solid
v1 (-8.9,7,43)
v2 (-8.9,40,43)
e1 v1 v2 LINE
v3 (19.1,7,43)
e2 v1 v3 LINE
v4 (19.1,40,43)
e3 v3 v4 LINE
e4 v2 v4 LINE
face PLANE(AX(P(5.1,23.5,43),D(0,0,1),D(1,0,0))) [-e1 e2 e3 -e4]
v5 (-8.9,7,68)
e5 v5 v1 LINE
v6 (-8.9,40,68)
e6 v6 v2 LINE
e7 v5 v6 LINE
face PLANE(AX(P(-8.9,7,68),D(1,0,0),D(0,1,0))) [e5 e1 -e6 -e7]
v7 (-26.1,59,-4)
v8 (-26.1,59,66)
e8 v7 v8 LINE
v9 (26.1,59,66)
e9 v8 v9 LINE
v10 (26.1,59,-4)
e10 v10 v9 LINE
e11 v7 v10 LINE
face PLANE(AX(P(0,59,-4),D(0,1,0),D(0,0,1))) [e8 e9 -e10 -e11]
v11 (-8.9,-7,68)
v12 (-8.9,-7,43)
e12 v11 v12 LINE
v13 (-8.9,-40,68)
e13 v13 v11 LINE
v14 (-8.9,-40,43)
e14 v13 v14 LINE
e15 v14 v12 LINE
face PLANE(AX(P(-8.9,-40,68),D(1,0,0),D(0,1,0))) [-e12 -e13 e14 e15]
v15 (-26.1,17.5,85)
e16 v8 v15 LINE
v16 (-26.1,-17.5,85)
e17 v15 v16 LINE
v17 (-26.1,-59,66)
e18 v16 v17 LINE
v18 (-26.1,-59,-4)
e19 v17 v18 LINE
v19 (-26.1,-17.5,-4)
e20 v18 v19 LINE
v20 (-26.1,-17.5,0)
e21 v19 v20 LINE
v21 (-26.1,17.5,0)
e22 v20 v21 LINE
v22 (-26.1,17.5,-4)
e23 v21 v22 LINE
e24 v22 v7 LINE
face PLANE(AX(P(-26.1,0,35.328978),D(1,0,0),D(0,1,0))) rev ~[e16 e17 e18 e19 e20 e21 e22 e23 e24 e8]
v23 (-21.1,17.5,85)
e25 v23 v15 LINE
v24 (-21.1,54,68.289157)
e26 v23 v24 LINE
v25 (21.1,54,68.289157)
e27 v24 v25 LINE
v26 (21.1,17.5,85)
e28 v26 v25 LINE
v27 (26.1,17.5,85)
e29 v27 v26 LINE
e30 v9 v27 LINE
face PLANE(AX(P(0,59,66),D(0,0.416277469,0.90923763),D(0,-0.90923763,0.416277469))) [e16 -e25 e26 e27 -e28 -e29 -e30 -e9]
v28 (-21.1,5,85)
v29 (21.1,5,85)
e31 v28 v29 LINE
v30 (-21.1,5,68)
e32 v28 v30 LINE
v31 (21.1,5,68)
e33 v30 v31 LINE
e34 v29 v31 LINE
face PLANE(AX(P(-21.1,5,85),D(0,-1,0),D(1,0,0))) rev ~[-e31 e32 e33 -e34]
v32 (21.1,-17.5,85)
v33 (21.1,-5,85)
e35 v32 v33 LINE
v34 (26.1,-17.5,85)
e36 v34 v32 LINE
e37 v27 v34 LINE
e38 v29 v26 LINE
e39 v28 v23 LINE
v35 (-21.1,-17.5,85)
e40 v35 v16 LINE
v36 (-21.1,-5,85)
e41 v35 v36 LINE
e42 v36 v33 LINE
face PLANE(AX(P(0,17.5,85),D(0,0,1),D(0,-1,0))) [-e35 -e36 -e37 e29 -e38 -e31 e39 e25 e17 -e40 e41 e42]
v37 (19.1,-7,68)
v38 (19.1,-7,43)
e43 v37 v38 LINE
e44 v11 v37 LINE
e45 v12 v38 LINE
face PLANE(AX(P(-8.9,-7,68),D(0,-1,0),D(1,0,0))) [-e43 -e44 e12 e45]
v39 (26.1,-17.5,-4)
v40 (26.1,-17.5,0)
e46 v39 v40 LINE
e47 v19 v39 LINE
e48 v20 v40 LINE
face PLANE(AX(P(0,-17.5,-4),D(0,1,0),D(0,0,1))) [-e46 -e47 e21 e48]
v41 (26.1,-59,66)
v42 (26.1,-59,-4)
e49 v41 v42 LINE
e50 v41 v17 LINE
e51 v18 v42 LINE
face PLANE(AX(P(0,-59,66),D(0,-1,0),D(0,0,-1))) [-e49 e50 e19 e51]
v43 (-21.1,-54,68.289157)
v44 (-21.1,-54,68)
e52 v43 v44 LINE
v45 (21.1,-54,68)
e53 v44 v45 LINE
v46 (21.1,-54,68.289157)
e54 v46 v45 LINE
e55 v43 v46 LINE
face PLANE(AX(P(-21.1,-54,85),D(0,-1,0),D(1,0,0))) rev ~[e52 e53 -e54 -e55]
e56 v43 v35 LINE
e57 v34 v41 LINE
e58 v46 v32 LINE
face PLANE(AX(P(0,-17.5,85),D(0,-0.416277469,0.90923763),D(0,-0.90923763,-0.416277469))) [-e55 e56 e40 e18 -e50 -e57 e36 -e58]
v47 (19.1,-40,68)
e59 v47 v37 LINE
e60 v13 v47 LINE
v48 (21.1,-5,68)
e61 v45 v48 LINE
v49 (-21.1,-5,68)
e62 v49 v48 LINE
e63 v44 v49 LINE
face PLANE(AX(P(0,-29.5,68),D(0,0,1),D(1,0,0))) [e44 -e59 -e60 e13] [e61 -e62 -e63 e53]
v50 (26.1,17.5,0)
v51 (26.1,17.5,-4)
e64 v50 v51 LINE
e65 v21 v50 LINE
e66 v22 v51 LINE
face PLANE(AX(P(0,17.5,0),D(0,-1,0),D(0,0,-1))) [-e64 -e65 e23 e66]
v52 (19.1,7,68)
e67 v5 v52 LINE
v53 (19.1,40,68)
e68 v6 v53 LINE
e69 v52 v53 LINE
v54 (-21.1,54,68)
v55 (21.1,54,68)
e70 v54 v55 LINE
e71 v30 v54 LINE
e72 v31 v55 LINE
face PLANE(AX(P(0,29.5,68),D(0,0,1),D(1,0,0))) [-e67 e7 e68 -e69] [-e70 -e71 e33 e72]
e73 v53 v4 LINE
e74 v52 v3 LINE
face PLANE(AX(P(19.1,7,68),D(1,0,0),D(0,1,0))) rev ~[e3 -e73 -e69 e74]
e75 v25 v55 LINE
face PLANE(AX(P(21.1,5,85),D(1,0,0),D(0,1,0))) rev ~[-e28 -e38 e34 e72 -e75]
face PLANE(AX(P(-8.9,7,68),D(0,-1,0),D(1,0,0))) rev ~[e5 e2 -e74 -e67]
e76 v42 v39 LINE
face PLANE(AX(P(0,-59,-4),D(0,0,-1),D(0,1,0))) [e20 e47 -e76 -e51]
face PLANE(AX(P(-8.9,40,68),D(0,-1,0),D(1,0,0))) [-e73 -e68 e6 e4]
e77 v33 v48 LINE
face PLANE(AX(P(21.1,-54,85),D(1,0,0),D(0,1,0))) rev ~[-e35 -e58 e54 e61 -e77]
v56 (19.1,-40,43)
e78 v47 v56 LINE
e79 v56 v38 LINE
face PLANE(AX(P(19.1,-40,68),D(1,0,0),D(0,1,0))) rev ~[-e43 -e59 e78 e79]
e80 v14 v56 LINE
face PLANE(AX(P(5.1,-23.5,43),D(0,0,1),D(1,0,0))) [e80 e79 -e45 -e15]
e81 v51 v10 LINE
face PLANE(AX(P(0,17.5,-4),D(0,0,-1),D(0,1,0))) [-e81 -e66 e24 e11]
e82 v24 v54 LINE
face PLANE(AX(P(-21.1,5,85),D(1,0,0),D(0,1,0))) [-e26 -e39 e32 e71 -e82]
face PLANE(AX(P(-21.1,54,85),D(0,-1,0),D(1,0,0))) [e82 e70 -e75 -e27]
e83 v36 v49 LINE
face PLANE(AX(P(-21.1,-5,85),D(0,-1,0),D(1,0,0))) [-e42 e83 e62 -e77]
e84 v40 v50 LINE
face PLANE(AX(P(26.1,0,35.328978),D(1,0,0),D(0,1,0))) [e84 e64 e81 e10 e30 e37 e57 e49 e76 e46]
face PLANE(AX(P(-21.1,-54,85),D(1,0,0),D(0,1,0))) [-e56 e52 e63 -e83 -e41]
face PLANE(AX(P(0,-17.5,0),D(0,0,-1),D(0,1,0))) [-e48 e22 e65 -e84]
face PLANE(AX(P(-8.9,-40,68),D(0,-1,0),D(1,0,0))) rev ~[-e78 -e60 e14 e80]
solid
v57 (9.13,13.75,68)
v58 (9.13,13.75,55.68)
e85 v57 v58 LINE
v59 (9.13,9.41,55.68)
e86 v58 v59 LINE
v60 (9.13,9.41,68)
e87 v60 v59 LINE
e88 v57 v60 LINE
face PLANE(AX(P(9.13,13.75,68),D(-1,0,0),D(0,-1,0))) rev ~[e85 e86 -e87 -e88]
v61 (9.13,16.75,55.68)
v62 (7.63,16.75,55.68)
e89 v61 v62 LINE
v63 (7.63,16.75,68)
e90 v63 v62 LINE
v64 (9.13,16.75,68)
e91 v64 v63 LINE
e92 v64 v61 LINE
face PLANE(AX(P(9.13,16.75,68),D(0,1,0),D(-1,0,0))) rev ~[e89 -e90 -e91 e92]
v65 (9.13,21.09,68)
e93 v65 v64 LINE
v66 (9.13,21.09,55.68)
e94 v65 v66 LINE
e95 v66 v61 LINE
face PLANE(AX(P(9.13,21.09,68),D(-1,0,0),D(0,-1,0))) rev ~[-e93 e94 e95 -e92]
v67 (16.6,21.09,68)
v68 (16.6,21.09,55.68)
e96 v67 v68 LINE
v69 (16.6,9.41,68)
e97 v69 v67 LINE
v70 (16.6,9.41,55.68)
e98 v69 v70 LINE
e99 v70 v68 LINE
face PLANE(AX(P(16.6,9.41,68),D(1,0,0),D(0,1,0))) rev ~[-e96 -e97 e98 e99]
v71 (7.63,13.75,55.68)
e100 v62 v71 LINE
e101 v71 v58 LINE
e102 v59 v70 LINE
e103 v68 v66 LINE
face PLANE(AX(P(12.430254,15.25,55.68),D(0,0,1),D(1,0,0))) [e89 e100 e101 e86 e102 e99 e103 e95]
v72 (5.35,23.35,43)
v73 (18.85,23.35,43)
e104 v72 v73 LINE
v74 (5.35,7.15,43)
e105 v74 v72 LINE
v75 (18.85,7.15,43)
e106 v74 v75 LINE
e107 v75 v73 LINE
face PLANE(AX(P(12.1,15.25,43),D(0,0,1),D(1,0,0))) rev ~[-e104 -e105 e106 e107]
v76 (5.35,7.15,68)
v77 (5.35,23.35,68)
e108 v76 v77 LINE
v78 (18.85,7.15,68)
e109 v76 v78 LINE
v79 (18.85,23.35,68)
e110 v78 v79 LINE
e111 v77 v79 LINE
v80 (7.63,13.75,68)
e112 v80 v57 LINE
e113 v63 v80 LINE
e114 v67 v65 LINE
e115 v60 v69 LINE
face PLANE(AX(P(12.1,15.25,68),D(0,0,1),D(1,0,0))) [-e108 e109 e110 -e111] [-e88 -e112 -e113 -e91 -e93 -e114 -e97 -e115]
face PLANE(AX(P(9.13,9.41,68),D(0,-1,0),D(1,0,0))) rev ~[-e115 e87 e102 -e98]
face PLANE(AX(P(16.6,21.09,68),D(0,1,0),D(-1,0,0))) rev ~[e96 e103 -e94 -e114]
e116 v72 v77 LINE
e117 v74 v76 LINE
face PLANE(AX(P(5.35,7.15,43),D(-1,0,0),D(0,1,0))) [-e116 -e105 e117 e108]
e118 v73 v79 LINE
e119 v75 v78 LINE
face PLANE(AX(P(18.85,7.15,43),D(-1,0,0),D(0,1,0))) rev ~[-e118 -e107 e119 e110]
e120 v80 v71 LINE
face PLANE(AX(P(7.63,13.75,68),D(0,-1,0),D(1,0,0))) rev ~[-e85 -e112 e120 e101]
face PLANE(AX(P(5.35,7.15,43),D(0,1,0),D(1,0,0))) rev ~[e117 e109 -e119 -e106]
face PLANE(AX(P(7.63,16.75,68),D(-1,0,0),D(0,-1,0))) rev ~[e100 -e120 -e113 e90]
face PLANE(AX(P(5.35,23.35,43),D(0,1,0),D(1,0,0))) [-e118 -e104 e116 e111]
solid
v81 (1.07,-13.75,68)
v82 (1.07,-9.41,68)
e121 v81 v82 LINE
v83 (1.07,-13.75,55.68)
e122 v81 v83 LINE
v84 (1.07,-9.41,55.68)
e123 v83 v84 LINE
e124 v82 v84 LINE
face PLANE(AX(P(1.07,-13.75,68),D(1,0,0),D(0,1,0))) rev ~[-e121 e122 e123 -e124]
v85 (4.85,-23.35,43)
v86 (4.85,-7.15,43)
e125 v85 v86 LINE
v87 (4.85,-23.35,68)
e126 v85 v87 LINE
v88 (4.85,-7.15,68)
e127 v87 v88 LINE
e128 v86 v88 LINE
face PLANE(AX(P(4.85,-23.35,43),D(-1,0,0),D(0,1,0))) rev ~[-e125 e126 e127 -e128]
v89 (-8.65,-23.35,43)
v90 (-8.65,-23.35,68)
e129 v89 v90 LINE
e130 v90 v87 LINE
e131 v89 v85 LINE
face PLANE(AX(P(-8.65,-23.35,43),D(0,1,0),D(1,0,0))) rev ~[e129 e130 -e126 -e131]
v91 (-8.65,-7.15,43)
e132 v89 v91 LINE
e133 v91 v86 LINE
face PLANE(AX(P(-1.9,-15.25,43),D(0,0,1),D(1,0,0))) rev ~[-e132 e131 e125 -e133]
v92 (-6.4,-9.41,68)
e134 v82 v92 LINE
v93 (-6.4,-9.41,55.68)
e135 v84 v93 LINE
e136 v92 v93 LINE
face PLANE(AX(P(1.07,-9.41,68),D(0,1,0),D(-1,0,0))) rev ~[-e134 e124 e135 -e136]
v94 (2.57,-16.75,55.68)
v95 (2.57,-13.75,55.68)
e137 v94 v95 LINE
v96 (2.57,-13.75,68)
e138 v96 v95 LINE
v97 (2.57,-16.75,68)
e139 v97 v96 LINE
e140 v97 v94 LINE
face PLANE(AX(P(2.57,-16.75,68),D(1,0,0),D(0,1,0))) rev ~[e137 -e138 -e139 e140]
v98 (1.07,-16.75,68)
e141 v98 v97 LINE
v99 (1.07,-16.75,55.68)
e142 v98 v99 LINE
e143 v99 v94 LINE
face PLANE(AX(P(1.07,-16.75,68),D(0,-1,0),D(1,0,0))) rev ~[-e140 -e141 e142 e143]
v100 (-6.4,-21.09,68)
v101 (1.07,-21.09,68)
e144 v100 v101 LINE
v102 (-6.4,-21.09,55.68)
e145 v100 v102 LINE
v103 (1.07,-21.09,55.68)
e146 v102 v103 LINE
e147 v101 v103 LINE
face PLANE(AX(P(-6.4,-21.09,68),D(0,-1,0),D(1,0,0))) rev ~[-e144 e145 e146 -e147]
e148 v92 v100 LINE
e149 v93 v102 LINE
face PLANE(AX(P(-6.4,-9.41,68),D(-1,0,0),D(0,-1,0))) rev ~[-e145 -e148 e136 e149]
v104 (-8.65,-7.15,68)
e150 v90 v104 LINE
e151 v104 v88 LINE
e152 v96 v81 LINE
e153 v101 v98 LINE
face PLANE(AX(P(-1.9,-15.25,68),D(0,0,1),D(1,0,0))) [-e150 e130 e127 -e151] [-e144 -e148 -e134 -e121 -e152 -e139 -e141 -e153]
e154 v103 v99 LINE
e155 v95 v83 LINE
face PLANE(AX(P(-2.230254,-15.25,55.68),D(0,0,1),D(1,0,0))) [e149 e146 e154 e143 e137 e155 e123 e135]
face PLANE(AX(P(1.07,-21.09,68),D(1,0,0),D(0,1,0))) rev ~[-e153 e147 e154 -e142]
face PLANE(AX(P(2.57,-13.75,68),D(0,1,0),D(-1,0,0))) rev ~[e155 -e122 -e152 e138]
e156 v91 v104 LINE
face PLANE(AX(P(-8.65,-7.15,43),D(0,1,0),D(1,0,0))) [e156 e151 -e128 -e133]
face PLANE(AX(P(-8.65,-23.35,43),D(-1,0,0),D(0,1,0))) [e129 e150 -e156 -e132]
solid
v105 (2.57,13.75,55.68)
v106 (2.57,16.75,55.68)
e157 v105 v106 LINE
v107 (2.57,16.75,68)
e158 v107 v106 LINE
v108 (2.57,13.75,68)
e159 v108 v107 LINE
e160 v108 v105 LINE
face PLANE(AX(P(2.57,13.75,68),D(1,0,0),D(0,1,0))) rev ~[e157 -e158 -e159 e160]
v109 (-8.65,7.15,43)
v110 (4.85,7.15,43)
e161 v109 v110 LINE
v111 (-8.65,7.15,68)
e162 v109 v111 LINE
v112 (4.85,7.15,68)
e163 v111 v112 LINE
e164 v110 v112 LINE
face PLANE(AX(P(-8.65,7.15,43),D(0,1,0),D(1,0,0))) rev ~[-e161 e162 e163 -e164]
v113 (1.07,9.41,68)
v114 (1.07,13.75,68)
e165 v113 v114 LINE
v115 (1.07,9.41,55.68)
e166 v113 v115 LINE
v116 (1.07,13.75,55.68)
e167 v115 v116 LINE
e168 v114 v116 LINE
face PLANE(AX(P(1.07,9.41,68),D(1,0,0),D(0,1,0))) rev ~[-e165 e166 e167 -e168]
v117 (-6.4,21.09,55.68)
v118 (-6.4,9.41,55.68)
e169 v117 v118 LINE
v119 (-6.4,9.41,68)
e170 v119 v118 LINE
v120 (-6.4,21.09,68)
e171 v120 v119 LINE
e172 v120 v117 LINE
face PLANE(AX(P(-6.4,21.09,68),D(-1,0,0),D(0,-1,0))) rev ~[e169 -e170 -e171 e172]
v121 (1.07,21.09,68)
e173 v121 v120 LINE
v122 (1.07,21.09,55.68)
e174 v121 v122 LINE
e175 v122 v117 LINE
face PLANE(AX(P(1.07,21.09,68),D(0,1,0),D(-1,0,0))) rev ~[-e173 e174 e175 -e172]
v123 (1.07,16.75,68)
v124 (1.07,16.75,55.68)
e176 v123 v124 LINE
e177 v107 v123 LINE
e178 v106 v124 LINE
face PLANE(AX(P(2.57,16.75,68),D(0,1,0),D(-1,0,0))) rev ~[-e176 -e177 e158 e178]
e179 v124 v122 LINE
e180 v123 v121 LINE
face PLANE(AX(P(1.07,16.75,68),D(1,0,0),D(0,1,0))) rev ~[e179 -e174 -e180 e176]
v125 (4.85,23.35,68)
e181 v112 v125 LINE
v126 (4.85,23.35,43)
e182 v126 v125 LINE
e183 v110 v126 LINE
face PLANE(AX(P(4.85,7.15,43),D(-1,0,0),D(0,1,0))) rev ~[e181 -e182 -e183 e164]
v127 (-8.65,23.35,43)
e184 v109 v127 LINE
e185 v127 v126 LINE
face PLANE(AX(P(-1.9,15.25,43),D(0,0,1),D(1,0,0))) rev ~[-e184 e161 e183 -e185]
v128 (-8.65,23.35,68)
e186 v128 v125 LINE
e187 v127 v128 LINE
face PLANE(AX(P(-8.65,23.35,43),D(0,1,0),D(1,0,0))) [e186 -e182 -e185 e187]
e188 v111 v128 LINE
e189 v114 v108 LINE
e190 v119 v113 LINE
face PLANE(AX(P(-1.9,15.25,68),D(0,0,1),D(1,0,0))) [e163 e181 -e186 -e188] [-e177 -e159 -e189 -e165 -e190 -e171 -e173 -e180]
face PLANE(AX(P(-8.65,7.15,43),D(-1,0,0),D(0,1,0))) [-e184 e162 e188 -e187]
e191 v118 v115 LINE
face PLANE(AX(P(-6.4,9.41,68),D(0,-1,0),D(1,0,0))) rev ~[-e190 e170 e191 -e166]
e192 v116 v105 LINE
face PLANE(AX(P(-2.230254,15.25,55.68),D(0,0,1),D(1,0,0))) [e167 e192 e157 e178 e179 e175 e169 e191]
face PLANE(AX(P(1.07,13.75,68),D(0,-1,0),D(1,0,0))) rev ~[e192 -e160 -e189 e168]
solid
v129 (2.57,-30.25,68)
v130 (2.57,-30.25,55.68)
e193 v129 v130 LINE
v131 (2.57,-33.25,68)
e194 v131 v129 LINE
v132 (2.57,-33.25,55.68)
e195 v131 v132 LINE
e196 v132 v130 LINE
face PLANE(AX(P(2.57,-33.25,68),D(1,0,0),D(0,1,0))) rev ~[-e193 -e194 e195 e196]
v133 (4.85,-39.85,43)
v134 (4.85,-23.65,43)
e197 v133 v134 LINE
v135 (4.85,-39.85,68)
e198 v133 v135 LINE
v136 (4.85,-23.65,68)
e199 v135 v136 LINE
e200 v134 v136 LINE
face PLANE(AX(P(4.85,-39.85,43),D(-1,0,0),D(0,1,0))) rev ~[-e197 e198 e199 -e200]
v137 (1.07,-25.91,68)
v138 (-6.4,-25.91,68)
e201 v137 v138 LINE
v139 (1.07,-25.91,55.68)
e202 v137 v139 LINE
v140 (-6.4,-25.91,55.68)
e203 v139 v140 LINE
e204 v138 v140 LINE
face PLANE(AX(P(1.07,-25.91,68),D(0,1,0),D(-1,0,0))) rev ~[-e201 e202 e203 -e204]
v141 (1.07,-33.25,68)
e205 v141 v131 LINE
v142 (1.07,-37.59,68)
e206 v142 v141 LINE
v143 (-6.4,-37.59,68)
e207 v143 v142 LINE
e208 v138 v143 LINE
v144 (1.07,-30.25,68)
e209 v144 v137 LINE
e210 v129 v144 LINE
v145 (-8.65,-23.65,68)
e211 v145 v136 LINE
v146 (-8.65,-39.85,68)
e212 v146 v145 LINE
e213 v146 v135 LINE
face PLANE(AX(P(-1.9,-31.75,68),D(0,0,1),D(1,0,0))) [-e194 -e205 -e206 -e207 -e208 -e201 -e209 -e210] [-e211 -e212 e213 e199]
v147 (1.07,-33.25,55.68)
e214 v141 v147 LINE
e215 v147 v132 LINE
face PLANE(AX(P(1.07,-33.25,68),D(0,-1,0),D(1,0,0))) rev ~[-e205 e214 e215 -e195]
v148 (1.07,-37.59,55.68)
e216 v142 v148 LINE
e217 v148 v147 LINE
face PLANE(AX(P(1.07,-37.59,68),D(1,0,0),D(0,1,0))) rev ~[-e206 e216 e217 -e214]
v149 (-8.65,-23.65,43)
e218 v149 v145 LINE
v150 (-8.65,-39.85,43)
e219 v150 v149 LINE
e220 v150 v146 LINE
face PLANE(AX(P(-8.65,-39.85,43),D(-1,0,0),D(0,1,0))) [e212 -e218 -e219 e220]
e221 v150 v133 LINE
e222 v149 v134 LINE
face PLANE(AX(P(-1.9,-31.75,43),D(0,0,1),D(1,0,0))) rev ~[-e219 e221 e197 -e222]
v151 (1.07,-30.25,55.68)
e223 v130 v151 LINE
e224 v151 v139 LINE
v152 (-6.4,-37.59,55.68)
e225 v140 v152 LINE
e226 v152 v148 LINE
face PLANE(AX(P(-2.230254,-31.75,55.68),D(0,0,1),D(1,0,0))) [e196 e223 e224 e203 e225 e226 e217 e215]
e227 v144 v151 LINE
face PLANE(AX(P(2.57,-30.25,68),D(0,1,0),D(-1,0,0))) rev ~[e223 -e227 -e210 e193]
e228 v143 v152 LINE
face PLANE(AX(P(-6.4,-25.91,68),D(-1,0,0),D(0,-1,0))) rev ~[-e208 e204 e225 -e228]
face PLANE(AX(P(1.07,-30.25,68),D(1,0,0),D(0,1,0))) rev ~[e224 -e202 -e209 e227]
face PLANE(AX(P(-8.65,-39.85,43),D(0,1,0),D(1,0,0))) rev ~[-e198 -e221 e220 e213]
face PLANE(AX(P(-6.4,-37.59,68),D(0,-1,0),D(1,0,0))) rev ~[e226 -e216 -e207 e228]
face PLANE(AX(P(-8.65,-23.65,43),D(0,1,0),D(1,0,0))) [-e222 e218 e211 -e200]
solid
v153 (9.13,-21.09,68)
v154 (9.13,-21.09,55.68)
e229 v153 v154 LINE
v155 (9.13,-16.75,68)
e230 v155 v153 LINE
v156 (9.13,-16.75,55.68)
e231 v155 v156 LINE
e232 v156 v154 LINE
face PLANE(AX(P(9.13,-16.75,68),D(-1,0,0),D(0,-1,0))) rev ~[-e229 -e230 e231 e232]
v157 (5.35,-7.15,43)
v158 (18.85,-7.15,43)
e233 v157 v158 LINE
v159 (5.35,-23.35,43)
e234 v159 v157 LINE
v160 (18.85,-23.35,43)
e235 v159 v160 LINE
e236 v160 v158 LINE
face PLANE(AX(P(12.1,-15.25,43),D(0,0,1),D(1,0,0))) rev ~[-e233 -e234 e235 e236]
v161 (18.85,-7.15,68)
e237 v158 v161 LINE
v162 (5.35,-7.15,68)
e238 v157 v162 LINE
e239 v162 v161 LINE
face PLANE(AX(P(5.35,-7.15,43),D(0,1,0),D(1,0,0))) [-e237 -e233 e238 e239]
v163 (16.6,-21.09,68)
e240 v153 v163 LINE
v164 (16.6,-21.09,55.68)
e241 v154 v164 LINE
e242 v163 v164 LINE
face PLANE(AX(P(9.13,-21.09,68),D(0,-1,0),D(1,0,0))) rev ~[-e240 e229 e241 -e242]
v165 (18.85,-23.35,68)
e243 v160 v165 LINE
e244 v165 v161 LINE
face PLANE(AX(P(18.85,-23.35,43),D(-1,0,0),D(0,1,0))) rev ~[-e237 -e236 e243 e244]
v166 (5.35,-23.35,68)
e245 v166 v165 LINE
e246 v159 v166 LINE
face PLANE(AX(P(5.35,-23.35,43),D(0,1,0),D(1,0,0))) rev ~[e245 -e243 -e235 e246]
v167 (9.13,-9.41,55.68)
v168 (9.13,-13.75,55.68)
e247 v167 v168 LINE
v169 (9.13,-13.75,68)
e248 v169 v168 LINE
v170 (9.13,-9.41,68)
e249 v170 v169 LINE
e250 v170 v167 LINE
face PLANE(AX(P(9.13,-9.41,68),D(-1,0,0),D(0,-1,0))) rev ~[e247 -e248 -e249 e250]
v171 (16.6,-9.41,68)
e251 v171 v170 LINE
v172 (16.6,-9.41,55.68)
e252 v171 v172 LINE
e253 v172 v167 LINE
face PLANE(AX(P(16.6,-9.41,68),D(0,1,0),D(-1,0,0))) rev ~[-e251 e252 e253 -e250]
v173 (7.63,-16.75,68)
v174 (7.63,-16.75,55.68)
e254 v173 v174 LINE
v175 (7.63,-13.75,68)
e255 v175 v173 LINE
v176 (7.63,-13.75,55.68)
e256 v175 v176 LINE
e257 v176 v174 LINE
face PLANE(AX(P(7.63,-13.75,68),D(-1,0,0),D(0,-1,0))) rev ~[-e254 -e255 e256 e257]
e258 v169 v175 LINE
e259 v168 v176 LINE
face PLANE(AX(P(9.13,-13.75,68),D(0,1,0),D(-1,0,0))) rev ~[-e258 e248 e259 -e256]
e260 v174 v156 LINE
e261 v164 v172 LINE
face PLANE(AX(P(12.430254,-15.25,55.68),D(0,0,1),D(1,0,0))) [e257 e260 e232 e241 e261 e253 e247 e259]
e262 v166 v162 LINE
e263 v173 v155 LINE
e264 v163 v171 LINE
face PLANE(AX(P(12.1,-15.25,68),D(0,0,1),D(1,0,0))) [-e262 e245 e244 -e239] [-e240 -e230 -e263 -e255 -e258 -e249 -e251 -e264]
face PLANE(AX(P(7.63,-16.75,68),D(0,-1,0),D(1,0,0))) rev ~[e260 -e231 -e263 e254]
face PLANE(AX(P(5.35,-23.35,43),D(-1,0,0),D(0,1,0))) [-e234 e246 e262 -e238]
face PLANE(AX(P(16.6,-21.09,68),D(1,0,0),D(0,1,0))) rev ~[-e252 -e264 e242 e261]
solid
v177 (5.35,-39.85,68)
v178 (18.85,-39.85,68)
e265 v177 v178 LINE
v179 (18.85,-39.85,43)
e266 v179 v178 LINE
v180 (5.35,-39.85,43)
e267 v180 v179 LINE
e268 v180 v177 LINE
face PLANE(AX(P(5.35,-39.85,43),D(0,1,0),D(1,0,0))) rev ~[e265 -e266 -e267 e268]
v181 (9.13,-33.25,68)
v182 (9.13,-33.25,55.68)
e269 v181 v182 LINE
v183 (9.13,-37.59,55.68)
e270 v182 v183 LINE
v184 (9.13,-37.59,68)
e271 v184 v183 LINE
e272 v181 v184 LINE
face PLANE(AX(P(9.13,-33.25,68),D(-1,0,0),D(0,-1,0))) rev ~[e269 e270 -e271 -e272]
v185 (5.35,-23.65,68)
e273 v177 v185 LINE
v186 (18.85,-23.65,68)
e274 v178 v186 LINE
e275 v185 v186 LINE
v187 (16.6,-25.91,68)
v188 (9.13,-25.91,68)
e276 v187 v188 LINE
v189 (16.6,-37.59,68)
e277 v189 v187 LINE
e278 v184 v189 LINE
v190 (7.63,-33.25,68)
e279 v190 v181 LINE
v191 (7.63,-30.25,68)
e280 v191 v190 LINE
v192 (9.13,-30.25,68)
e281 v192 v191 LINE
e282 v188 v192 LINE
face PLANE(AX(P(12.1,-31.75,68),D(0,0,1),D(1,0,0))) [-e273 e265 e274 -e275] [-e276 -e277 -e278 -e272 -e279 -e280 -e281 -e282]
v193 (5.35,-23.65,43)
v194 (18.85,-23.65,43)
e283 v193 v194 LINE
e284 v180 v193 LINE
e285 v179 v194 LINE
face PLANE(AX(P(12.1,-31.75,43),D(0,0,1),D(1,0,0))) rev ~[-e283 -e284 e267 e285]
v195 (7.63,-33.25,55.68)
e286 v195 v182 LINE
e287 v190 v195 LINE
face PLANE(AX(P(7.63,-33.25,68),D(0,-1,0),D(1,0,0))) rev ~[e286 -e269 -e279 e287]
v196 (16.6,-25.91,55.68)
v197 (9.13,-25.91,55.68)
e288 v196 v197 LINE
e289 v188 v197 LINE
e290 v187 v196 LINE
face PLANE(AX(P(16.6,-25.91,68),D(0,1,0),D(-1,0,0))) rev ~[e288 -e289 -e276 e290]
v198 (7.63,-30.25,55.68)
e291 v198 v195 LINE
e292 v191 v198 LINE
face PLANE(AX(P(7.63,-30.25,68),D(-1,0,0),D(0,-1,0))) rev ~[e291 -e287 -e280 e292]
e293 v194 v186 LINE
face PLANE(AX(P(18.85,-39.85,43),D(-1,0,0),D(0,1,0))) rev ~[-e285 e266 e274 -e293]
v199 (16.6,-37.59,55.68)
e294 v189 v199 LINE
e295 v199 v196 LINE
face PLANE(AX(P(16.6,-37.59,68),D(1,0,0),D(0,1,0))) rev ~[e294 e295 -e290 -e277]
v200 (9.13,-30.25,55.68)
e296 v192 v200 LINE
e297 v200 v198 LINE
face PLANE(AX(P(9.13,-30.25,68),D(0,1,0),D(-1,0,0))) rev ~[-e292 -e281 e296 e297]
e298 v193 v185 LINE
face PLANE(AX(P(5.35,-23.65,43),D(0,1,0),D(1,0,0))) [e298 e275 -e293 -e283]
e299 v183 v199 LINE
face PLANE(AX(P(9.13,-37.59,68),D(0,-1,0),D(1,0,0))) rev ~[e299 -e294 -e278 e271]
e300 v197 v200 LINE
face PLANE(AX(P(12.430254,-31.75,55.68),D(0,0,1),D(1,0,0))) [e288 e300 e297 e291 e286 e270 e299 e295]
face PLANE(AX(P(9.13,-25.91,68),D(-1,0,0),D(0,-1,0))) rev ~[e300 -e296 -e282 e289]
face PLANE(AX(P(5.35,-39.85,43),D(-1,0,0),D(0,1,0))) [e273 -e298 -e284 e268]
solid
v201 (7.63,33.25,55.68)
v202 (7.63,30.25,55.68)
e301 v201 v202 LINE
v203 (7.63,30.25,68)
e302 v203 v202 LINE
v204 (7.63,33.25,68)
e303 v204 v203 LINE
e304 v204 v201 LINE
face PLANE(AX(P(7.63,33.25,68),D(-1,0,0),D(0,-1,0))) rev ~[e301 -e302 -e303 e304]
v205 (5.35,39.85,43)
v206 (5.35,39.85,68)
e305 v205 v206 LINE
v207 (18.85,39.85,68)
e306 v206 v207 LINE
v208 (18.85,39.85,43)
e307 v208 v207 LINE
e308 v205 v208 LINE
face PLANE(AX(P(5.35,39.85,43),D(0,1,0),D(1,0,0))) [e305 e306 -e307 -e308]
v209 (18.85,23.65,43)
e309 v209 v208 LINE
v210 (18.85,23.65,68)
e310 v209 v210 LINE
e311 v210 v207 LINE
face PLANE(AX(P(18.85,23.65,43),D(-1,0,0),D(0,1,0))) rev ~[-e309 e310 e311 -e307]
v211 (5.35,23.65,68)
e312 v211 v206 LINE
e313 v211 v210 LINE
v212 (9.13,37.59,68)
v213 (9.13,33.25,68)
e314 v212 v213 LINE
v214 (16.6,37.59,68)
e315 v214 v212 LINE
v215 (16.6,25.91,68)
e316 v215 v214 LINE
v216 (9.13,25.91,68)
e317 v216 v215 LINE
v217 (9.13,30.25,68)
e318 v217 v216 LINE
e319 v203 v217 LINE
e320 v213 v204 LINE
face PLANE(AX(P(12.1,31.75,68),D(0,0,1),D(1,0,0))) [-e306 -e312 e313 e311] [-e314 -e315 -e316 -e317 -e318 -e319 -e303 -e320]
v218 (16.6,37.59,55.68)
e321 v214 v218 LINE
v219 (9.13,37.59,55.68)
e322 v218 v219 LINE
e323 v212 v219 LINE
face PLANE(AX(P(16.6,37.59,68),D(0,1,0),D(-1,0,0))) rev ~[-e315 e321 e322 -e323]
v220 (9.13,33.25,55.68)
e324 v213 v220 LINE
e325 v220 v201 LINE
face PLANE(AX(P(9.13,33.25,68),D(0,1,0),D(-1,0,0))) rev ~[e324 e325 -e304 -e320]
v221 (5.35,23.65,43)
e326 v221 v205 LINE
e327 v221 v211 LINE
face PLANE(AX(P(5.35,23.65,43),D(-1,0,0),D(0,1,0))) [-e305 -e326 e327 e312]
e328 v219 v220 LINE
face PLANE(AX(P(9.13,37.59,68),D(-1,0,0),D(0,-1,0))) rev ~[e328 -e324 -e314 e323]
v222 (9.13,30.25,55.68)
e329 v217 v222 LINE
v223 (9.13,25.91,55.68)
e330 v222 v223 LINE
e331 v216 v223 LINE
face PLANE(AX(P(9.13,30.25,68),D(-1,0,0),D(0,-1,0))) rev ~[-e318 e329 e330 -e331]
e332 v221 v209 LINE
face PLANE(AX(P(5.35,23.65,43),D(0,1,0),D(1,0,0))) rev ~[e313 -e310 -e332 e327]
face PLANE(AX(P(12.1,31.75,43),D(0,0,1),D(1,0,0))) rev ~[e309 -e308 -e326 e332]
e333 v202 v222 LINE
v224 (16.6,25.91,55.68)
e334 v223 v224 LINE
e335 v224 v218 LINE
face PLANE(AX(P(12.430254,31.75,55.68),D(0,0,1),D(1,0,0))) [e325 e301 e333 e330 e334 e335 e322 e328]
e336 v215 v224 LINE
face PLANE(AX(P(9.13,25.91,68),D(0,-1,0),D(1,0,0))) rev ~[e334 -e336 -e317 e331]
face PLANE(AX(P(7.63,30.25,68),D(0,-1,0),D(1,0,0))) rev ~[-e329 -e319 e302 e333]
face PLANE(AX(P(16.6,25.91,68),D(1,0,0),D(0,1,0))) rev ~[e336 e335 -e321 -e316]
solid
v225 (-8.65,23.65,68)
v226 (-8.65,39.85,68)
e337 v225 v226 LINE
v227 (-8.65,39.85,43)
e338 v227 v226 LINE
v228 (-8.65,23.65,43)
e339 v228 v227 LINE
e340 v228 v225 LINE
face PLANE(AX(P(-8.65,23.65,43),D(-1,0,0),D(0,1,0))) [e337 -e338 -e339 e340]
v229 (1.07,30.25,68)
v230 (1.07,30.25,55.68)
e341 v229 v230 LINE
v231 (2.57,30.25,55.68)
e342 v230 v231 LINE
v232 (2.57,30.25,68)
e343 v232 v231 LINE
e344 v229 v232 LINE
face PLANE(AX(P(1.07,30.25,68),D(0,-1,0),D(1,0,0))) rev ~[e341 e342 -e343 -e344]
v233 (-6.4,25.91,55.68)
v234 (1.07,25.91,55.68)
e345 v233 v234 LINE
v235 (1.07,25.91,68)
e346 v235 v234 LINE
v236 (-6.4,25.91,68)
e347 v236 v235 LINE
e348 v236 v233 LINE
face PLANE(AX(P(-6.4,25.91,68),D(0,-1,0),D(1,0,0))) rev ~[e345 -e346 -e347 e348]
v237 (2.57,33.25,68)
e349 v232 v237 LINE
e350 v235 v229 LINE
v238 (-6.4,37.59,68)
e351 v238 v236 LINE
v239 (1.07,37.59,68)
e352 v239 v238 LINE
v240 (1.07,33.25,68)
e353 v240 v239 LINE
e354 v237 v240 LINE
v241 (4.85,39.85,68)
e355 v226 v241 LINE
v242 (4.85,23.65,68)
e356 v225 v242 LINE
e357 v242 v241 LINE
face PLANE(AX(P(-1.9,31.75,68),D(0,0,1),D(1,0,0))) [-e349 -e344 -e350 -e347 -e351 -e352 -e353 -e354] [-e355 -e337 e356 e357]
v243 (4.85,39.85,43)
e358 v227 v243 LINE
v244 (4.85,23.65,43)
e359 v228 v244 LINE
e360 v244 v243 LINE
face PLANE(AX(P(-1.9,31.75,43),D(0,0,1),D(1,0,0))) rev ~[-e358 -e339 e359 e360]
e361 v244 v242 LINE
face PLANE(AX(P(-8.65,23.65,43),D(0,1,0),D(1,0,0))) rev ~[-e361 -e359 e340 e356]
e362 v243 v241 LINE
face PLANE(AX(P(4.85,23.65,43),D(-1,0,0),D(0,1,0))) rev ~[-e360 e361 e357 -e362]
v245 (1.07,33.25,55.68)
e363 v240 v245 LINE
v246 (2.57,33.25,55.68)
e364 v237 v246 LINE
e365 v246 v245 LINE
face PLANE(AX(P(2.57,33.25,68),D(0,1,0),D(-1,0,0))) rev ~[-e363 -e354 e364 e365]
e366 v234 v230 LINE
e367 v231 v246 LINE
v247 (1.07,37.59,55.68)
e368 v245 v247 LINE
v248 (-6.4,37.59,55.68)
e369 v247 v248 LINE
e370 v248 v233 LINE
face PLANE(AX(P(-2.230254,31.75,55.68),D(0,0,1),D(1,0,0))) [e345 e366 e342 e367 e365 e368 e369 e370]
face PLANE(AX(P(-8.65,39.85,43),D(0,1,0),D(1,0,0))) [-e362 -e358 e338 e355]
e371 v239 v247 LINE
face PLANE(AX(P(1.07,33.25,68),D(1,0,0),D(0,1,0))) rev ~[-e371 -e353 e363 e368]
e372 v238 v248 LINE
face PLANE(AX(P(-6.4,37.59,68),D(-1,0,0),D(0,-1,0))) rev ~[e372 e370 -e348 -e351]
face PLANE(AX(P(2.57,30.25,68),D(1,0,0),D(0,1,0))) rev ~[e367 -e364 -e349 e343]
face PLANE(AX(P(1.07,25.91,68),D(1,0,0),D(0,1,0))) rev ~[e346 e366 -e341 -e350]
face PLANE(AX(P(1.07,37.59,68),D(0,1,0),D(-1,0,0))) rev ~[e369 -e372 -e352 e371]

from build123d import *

# Parameters (mm, degrees)
F1_DEPTH = 26.1
F2_W     = 42.2
F2_H     = 49
F3_DEPTH = 17
F4_W     = 28
F4_H     = 33
F5_DEPTH = 25
F6_W     = 13.5
F6_H     = 16.2
F7_DEPTH = 25
F9_DEPTH = 12.32


with BuildPart() as f1:
    # F0 (on Right) → F1 (new body, symmetric)
    with BuildSketch(Plane.YZ):
        Polygon((-59, 66), (-59, -4), (-17.5, -4), (-17.5, 0), (17.5, 0), (17.5, -4), (59, -4), (59, 66), (17.5, 85), (-17.5, 85), align=None)
    extrude(amount=F1_DEPTH, both=True)

    # F2 (on face) → F3 (cut)
    with BuildSketch(Plane.XY.offset(85)):
        with Locations((0, -29.5)):
            Rectangle(F2_W, F2_H)
        with Locations((0, 29.5)):
            Rectangle(F2_W, F2_H)
    extrude(amount=-F3_DEPTH, mode=Mode.SUBTRACT)

    # F4 (on face) → F5 (cut)
    with BuildSketch(Plane.XY.offset(68)):
        with Locations((5.1, -23.5)):
            Rectangle(F4_W, F4_H)
        with Locations((5.1, 23.5)):
            Rectangle(F4_W, F4_H)
    extrude(amount=-F5_DEPTH, mode=Mode.SUBTRACT)


with BuildPart() as f7:
    # F6 (on face) → F7 (new body)
    with BuildSketch(Plane.XY.offset(43)):
        with Locations((12.1, -31.75)):
            Rectangle(F6_W, F6_H)
        with Locations((-1.9, -31.75)):
            Rectangle(F6_W, F6_H)
        with Locations((-1.9, -15.25)):
            Rectangle(F6_W, F6_H)
        with Locations((12.1, -15.25)):
            Rectangle(F6_W, F6_H)
        with Locations((-1.9, 15.25)):
            Rectangle(F6_W, F6_H)
        with Locations((12.1, 15.25)):
            Rectangle(F6_W, F6_H)
        with Locations((-1.9, 31.75)):
            Rectangle(F6_W, F6_H)
        with Locations((12.1, 31.75)):
            Rectangle(F6_W, F6_H)
    extrude(amount=F7_DEPTH)

    # F8 (on face) → F9 (cut)
    with BuildSketch(Plane.XY.offset(68)):
        Polygon((9.13, -37.59), (16.6, -37.59), (16.6, -25.91), (9.13, -25.91), (9.13, -30.25), (7.63, -30.25), (7.63, -33.25), (9.13, -33.25), align=None)
        Polygon((1.07, -37.59), (1.07, -33.25), (2.57, -33.25), (2.57, -30.25), (1.07, -30.25), (1.07, -25.91), (-6.4, -25.91), (-6.4, -37.59), align=None)
        Polygon((2.57, -13.75), (1.07, -13.75), (1.07, -9.41), (-6.4, -9.41), (-6.4, -21.09), (1.07, -21.09), (1.07, -16.75), (2.57, -16.75), align=None)
        Polygon((9.13, -9.41), (9.13, -13.75), (7.63, -13.75), (7.63, -16.75), (9.13, -16.75), (9.13, -21.09), (16.6, -21.09), (16.6, -9.41), align=None)
        Polygon((1.07, 21.09), (-6.4, 21.09), (-6.4, 9.41), (1.07, 9.41), (1.07, 13.75), (2.57, 13.75), (2.57, 16.75), (1.07, 16.75), align=None)
        Polygon((16.6, 21.09), (9.13, 21.09), (9.13, 16.75), (7.63, 16.75), (7.63, 13.75), (9.13, 13.75), (9.13, 9.41), (16.6, 9.41), align=None)
        Polygon((2.57, 33.25), (1.07, 33.25), (1.07, 37.59), (-6.4, 37.59), (-6.4, 25.91), (1.07, 25.91), (1.07, 30.25), (2.57, 30.25), align=None)
        Polygon((9.13, 37.59), (9.13, 33.25), (7.63, 33.25), (7.63, 30.25), (9.13, 30.25), (9.13, 25.91), (16.6, 25.91), (16.6, 37.59), align=None)
    extrude(amount=-F9_DEPTH, mode=Mode.SUBTRACT)


solid = Compound([f1.part, f7.part])
